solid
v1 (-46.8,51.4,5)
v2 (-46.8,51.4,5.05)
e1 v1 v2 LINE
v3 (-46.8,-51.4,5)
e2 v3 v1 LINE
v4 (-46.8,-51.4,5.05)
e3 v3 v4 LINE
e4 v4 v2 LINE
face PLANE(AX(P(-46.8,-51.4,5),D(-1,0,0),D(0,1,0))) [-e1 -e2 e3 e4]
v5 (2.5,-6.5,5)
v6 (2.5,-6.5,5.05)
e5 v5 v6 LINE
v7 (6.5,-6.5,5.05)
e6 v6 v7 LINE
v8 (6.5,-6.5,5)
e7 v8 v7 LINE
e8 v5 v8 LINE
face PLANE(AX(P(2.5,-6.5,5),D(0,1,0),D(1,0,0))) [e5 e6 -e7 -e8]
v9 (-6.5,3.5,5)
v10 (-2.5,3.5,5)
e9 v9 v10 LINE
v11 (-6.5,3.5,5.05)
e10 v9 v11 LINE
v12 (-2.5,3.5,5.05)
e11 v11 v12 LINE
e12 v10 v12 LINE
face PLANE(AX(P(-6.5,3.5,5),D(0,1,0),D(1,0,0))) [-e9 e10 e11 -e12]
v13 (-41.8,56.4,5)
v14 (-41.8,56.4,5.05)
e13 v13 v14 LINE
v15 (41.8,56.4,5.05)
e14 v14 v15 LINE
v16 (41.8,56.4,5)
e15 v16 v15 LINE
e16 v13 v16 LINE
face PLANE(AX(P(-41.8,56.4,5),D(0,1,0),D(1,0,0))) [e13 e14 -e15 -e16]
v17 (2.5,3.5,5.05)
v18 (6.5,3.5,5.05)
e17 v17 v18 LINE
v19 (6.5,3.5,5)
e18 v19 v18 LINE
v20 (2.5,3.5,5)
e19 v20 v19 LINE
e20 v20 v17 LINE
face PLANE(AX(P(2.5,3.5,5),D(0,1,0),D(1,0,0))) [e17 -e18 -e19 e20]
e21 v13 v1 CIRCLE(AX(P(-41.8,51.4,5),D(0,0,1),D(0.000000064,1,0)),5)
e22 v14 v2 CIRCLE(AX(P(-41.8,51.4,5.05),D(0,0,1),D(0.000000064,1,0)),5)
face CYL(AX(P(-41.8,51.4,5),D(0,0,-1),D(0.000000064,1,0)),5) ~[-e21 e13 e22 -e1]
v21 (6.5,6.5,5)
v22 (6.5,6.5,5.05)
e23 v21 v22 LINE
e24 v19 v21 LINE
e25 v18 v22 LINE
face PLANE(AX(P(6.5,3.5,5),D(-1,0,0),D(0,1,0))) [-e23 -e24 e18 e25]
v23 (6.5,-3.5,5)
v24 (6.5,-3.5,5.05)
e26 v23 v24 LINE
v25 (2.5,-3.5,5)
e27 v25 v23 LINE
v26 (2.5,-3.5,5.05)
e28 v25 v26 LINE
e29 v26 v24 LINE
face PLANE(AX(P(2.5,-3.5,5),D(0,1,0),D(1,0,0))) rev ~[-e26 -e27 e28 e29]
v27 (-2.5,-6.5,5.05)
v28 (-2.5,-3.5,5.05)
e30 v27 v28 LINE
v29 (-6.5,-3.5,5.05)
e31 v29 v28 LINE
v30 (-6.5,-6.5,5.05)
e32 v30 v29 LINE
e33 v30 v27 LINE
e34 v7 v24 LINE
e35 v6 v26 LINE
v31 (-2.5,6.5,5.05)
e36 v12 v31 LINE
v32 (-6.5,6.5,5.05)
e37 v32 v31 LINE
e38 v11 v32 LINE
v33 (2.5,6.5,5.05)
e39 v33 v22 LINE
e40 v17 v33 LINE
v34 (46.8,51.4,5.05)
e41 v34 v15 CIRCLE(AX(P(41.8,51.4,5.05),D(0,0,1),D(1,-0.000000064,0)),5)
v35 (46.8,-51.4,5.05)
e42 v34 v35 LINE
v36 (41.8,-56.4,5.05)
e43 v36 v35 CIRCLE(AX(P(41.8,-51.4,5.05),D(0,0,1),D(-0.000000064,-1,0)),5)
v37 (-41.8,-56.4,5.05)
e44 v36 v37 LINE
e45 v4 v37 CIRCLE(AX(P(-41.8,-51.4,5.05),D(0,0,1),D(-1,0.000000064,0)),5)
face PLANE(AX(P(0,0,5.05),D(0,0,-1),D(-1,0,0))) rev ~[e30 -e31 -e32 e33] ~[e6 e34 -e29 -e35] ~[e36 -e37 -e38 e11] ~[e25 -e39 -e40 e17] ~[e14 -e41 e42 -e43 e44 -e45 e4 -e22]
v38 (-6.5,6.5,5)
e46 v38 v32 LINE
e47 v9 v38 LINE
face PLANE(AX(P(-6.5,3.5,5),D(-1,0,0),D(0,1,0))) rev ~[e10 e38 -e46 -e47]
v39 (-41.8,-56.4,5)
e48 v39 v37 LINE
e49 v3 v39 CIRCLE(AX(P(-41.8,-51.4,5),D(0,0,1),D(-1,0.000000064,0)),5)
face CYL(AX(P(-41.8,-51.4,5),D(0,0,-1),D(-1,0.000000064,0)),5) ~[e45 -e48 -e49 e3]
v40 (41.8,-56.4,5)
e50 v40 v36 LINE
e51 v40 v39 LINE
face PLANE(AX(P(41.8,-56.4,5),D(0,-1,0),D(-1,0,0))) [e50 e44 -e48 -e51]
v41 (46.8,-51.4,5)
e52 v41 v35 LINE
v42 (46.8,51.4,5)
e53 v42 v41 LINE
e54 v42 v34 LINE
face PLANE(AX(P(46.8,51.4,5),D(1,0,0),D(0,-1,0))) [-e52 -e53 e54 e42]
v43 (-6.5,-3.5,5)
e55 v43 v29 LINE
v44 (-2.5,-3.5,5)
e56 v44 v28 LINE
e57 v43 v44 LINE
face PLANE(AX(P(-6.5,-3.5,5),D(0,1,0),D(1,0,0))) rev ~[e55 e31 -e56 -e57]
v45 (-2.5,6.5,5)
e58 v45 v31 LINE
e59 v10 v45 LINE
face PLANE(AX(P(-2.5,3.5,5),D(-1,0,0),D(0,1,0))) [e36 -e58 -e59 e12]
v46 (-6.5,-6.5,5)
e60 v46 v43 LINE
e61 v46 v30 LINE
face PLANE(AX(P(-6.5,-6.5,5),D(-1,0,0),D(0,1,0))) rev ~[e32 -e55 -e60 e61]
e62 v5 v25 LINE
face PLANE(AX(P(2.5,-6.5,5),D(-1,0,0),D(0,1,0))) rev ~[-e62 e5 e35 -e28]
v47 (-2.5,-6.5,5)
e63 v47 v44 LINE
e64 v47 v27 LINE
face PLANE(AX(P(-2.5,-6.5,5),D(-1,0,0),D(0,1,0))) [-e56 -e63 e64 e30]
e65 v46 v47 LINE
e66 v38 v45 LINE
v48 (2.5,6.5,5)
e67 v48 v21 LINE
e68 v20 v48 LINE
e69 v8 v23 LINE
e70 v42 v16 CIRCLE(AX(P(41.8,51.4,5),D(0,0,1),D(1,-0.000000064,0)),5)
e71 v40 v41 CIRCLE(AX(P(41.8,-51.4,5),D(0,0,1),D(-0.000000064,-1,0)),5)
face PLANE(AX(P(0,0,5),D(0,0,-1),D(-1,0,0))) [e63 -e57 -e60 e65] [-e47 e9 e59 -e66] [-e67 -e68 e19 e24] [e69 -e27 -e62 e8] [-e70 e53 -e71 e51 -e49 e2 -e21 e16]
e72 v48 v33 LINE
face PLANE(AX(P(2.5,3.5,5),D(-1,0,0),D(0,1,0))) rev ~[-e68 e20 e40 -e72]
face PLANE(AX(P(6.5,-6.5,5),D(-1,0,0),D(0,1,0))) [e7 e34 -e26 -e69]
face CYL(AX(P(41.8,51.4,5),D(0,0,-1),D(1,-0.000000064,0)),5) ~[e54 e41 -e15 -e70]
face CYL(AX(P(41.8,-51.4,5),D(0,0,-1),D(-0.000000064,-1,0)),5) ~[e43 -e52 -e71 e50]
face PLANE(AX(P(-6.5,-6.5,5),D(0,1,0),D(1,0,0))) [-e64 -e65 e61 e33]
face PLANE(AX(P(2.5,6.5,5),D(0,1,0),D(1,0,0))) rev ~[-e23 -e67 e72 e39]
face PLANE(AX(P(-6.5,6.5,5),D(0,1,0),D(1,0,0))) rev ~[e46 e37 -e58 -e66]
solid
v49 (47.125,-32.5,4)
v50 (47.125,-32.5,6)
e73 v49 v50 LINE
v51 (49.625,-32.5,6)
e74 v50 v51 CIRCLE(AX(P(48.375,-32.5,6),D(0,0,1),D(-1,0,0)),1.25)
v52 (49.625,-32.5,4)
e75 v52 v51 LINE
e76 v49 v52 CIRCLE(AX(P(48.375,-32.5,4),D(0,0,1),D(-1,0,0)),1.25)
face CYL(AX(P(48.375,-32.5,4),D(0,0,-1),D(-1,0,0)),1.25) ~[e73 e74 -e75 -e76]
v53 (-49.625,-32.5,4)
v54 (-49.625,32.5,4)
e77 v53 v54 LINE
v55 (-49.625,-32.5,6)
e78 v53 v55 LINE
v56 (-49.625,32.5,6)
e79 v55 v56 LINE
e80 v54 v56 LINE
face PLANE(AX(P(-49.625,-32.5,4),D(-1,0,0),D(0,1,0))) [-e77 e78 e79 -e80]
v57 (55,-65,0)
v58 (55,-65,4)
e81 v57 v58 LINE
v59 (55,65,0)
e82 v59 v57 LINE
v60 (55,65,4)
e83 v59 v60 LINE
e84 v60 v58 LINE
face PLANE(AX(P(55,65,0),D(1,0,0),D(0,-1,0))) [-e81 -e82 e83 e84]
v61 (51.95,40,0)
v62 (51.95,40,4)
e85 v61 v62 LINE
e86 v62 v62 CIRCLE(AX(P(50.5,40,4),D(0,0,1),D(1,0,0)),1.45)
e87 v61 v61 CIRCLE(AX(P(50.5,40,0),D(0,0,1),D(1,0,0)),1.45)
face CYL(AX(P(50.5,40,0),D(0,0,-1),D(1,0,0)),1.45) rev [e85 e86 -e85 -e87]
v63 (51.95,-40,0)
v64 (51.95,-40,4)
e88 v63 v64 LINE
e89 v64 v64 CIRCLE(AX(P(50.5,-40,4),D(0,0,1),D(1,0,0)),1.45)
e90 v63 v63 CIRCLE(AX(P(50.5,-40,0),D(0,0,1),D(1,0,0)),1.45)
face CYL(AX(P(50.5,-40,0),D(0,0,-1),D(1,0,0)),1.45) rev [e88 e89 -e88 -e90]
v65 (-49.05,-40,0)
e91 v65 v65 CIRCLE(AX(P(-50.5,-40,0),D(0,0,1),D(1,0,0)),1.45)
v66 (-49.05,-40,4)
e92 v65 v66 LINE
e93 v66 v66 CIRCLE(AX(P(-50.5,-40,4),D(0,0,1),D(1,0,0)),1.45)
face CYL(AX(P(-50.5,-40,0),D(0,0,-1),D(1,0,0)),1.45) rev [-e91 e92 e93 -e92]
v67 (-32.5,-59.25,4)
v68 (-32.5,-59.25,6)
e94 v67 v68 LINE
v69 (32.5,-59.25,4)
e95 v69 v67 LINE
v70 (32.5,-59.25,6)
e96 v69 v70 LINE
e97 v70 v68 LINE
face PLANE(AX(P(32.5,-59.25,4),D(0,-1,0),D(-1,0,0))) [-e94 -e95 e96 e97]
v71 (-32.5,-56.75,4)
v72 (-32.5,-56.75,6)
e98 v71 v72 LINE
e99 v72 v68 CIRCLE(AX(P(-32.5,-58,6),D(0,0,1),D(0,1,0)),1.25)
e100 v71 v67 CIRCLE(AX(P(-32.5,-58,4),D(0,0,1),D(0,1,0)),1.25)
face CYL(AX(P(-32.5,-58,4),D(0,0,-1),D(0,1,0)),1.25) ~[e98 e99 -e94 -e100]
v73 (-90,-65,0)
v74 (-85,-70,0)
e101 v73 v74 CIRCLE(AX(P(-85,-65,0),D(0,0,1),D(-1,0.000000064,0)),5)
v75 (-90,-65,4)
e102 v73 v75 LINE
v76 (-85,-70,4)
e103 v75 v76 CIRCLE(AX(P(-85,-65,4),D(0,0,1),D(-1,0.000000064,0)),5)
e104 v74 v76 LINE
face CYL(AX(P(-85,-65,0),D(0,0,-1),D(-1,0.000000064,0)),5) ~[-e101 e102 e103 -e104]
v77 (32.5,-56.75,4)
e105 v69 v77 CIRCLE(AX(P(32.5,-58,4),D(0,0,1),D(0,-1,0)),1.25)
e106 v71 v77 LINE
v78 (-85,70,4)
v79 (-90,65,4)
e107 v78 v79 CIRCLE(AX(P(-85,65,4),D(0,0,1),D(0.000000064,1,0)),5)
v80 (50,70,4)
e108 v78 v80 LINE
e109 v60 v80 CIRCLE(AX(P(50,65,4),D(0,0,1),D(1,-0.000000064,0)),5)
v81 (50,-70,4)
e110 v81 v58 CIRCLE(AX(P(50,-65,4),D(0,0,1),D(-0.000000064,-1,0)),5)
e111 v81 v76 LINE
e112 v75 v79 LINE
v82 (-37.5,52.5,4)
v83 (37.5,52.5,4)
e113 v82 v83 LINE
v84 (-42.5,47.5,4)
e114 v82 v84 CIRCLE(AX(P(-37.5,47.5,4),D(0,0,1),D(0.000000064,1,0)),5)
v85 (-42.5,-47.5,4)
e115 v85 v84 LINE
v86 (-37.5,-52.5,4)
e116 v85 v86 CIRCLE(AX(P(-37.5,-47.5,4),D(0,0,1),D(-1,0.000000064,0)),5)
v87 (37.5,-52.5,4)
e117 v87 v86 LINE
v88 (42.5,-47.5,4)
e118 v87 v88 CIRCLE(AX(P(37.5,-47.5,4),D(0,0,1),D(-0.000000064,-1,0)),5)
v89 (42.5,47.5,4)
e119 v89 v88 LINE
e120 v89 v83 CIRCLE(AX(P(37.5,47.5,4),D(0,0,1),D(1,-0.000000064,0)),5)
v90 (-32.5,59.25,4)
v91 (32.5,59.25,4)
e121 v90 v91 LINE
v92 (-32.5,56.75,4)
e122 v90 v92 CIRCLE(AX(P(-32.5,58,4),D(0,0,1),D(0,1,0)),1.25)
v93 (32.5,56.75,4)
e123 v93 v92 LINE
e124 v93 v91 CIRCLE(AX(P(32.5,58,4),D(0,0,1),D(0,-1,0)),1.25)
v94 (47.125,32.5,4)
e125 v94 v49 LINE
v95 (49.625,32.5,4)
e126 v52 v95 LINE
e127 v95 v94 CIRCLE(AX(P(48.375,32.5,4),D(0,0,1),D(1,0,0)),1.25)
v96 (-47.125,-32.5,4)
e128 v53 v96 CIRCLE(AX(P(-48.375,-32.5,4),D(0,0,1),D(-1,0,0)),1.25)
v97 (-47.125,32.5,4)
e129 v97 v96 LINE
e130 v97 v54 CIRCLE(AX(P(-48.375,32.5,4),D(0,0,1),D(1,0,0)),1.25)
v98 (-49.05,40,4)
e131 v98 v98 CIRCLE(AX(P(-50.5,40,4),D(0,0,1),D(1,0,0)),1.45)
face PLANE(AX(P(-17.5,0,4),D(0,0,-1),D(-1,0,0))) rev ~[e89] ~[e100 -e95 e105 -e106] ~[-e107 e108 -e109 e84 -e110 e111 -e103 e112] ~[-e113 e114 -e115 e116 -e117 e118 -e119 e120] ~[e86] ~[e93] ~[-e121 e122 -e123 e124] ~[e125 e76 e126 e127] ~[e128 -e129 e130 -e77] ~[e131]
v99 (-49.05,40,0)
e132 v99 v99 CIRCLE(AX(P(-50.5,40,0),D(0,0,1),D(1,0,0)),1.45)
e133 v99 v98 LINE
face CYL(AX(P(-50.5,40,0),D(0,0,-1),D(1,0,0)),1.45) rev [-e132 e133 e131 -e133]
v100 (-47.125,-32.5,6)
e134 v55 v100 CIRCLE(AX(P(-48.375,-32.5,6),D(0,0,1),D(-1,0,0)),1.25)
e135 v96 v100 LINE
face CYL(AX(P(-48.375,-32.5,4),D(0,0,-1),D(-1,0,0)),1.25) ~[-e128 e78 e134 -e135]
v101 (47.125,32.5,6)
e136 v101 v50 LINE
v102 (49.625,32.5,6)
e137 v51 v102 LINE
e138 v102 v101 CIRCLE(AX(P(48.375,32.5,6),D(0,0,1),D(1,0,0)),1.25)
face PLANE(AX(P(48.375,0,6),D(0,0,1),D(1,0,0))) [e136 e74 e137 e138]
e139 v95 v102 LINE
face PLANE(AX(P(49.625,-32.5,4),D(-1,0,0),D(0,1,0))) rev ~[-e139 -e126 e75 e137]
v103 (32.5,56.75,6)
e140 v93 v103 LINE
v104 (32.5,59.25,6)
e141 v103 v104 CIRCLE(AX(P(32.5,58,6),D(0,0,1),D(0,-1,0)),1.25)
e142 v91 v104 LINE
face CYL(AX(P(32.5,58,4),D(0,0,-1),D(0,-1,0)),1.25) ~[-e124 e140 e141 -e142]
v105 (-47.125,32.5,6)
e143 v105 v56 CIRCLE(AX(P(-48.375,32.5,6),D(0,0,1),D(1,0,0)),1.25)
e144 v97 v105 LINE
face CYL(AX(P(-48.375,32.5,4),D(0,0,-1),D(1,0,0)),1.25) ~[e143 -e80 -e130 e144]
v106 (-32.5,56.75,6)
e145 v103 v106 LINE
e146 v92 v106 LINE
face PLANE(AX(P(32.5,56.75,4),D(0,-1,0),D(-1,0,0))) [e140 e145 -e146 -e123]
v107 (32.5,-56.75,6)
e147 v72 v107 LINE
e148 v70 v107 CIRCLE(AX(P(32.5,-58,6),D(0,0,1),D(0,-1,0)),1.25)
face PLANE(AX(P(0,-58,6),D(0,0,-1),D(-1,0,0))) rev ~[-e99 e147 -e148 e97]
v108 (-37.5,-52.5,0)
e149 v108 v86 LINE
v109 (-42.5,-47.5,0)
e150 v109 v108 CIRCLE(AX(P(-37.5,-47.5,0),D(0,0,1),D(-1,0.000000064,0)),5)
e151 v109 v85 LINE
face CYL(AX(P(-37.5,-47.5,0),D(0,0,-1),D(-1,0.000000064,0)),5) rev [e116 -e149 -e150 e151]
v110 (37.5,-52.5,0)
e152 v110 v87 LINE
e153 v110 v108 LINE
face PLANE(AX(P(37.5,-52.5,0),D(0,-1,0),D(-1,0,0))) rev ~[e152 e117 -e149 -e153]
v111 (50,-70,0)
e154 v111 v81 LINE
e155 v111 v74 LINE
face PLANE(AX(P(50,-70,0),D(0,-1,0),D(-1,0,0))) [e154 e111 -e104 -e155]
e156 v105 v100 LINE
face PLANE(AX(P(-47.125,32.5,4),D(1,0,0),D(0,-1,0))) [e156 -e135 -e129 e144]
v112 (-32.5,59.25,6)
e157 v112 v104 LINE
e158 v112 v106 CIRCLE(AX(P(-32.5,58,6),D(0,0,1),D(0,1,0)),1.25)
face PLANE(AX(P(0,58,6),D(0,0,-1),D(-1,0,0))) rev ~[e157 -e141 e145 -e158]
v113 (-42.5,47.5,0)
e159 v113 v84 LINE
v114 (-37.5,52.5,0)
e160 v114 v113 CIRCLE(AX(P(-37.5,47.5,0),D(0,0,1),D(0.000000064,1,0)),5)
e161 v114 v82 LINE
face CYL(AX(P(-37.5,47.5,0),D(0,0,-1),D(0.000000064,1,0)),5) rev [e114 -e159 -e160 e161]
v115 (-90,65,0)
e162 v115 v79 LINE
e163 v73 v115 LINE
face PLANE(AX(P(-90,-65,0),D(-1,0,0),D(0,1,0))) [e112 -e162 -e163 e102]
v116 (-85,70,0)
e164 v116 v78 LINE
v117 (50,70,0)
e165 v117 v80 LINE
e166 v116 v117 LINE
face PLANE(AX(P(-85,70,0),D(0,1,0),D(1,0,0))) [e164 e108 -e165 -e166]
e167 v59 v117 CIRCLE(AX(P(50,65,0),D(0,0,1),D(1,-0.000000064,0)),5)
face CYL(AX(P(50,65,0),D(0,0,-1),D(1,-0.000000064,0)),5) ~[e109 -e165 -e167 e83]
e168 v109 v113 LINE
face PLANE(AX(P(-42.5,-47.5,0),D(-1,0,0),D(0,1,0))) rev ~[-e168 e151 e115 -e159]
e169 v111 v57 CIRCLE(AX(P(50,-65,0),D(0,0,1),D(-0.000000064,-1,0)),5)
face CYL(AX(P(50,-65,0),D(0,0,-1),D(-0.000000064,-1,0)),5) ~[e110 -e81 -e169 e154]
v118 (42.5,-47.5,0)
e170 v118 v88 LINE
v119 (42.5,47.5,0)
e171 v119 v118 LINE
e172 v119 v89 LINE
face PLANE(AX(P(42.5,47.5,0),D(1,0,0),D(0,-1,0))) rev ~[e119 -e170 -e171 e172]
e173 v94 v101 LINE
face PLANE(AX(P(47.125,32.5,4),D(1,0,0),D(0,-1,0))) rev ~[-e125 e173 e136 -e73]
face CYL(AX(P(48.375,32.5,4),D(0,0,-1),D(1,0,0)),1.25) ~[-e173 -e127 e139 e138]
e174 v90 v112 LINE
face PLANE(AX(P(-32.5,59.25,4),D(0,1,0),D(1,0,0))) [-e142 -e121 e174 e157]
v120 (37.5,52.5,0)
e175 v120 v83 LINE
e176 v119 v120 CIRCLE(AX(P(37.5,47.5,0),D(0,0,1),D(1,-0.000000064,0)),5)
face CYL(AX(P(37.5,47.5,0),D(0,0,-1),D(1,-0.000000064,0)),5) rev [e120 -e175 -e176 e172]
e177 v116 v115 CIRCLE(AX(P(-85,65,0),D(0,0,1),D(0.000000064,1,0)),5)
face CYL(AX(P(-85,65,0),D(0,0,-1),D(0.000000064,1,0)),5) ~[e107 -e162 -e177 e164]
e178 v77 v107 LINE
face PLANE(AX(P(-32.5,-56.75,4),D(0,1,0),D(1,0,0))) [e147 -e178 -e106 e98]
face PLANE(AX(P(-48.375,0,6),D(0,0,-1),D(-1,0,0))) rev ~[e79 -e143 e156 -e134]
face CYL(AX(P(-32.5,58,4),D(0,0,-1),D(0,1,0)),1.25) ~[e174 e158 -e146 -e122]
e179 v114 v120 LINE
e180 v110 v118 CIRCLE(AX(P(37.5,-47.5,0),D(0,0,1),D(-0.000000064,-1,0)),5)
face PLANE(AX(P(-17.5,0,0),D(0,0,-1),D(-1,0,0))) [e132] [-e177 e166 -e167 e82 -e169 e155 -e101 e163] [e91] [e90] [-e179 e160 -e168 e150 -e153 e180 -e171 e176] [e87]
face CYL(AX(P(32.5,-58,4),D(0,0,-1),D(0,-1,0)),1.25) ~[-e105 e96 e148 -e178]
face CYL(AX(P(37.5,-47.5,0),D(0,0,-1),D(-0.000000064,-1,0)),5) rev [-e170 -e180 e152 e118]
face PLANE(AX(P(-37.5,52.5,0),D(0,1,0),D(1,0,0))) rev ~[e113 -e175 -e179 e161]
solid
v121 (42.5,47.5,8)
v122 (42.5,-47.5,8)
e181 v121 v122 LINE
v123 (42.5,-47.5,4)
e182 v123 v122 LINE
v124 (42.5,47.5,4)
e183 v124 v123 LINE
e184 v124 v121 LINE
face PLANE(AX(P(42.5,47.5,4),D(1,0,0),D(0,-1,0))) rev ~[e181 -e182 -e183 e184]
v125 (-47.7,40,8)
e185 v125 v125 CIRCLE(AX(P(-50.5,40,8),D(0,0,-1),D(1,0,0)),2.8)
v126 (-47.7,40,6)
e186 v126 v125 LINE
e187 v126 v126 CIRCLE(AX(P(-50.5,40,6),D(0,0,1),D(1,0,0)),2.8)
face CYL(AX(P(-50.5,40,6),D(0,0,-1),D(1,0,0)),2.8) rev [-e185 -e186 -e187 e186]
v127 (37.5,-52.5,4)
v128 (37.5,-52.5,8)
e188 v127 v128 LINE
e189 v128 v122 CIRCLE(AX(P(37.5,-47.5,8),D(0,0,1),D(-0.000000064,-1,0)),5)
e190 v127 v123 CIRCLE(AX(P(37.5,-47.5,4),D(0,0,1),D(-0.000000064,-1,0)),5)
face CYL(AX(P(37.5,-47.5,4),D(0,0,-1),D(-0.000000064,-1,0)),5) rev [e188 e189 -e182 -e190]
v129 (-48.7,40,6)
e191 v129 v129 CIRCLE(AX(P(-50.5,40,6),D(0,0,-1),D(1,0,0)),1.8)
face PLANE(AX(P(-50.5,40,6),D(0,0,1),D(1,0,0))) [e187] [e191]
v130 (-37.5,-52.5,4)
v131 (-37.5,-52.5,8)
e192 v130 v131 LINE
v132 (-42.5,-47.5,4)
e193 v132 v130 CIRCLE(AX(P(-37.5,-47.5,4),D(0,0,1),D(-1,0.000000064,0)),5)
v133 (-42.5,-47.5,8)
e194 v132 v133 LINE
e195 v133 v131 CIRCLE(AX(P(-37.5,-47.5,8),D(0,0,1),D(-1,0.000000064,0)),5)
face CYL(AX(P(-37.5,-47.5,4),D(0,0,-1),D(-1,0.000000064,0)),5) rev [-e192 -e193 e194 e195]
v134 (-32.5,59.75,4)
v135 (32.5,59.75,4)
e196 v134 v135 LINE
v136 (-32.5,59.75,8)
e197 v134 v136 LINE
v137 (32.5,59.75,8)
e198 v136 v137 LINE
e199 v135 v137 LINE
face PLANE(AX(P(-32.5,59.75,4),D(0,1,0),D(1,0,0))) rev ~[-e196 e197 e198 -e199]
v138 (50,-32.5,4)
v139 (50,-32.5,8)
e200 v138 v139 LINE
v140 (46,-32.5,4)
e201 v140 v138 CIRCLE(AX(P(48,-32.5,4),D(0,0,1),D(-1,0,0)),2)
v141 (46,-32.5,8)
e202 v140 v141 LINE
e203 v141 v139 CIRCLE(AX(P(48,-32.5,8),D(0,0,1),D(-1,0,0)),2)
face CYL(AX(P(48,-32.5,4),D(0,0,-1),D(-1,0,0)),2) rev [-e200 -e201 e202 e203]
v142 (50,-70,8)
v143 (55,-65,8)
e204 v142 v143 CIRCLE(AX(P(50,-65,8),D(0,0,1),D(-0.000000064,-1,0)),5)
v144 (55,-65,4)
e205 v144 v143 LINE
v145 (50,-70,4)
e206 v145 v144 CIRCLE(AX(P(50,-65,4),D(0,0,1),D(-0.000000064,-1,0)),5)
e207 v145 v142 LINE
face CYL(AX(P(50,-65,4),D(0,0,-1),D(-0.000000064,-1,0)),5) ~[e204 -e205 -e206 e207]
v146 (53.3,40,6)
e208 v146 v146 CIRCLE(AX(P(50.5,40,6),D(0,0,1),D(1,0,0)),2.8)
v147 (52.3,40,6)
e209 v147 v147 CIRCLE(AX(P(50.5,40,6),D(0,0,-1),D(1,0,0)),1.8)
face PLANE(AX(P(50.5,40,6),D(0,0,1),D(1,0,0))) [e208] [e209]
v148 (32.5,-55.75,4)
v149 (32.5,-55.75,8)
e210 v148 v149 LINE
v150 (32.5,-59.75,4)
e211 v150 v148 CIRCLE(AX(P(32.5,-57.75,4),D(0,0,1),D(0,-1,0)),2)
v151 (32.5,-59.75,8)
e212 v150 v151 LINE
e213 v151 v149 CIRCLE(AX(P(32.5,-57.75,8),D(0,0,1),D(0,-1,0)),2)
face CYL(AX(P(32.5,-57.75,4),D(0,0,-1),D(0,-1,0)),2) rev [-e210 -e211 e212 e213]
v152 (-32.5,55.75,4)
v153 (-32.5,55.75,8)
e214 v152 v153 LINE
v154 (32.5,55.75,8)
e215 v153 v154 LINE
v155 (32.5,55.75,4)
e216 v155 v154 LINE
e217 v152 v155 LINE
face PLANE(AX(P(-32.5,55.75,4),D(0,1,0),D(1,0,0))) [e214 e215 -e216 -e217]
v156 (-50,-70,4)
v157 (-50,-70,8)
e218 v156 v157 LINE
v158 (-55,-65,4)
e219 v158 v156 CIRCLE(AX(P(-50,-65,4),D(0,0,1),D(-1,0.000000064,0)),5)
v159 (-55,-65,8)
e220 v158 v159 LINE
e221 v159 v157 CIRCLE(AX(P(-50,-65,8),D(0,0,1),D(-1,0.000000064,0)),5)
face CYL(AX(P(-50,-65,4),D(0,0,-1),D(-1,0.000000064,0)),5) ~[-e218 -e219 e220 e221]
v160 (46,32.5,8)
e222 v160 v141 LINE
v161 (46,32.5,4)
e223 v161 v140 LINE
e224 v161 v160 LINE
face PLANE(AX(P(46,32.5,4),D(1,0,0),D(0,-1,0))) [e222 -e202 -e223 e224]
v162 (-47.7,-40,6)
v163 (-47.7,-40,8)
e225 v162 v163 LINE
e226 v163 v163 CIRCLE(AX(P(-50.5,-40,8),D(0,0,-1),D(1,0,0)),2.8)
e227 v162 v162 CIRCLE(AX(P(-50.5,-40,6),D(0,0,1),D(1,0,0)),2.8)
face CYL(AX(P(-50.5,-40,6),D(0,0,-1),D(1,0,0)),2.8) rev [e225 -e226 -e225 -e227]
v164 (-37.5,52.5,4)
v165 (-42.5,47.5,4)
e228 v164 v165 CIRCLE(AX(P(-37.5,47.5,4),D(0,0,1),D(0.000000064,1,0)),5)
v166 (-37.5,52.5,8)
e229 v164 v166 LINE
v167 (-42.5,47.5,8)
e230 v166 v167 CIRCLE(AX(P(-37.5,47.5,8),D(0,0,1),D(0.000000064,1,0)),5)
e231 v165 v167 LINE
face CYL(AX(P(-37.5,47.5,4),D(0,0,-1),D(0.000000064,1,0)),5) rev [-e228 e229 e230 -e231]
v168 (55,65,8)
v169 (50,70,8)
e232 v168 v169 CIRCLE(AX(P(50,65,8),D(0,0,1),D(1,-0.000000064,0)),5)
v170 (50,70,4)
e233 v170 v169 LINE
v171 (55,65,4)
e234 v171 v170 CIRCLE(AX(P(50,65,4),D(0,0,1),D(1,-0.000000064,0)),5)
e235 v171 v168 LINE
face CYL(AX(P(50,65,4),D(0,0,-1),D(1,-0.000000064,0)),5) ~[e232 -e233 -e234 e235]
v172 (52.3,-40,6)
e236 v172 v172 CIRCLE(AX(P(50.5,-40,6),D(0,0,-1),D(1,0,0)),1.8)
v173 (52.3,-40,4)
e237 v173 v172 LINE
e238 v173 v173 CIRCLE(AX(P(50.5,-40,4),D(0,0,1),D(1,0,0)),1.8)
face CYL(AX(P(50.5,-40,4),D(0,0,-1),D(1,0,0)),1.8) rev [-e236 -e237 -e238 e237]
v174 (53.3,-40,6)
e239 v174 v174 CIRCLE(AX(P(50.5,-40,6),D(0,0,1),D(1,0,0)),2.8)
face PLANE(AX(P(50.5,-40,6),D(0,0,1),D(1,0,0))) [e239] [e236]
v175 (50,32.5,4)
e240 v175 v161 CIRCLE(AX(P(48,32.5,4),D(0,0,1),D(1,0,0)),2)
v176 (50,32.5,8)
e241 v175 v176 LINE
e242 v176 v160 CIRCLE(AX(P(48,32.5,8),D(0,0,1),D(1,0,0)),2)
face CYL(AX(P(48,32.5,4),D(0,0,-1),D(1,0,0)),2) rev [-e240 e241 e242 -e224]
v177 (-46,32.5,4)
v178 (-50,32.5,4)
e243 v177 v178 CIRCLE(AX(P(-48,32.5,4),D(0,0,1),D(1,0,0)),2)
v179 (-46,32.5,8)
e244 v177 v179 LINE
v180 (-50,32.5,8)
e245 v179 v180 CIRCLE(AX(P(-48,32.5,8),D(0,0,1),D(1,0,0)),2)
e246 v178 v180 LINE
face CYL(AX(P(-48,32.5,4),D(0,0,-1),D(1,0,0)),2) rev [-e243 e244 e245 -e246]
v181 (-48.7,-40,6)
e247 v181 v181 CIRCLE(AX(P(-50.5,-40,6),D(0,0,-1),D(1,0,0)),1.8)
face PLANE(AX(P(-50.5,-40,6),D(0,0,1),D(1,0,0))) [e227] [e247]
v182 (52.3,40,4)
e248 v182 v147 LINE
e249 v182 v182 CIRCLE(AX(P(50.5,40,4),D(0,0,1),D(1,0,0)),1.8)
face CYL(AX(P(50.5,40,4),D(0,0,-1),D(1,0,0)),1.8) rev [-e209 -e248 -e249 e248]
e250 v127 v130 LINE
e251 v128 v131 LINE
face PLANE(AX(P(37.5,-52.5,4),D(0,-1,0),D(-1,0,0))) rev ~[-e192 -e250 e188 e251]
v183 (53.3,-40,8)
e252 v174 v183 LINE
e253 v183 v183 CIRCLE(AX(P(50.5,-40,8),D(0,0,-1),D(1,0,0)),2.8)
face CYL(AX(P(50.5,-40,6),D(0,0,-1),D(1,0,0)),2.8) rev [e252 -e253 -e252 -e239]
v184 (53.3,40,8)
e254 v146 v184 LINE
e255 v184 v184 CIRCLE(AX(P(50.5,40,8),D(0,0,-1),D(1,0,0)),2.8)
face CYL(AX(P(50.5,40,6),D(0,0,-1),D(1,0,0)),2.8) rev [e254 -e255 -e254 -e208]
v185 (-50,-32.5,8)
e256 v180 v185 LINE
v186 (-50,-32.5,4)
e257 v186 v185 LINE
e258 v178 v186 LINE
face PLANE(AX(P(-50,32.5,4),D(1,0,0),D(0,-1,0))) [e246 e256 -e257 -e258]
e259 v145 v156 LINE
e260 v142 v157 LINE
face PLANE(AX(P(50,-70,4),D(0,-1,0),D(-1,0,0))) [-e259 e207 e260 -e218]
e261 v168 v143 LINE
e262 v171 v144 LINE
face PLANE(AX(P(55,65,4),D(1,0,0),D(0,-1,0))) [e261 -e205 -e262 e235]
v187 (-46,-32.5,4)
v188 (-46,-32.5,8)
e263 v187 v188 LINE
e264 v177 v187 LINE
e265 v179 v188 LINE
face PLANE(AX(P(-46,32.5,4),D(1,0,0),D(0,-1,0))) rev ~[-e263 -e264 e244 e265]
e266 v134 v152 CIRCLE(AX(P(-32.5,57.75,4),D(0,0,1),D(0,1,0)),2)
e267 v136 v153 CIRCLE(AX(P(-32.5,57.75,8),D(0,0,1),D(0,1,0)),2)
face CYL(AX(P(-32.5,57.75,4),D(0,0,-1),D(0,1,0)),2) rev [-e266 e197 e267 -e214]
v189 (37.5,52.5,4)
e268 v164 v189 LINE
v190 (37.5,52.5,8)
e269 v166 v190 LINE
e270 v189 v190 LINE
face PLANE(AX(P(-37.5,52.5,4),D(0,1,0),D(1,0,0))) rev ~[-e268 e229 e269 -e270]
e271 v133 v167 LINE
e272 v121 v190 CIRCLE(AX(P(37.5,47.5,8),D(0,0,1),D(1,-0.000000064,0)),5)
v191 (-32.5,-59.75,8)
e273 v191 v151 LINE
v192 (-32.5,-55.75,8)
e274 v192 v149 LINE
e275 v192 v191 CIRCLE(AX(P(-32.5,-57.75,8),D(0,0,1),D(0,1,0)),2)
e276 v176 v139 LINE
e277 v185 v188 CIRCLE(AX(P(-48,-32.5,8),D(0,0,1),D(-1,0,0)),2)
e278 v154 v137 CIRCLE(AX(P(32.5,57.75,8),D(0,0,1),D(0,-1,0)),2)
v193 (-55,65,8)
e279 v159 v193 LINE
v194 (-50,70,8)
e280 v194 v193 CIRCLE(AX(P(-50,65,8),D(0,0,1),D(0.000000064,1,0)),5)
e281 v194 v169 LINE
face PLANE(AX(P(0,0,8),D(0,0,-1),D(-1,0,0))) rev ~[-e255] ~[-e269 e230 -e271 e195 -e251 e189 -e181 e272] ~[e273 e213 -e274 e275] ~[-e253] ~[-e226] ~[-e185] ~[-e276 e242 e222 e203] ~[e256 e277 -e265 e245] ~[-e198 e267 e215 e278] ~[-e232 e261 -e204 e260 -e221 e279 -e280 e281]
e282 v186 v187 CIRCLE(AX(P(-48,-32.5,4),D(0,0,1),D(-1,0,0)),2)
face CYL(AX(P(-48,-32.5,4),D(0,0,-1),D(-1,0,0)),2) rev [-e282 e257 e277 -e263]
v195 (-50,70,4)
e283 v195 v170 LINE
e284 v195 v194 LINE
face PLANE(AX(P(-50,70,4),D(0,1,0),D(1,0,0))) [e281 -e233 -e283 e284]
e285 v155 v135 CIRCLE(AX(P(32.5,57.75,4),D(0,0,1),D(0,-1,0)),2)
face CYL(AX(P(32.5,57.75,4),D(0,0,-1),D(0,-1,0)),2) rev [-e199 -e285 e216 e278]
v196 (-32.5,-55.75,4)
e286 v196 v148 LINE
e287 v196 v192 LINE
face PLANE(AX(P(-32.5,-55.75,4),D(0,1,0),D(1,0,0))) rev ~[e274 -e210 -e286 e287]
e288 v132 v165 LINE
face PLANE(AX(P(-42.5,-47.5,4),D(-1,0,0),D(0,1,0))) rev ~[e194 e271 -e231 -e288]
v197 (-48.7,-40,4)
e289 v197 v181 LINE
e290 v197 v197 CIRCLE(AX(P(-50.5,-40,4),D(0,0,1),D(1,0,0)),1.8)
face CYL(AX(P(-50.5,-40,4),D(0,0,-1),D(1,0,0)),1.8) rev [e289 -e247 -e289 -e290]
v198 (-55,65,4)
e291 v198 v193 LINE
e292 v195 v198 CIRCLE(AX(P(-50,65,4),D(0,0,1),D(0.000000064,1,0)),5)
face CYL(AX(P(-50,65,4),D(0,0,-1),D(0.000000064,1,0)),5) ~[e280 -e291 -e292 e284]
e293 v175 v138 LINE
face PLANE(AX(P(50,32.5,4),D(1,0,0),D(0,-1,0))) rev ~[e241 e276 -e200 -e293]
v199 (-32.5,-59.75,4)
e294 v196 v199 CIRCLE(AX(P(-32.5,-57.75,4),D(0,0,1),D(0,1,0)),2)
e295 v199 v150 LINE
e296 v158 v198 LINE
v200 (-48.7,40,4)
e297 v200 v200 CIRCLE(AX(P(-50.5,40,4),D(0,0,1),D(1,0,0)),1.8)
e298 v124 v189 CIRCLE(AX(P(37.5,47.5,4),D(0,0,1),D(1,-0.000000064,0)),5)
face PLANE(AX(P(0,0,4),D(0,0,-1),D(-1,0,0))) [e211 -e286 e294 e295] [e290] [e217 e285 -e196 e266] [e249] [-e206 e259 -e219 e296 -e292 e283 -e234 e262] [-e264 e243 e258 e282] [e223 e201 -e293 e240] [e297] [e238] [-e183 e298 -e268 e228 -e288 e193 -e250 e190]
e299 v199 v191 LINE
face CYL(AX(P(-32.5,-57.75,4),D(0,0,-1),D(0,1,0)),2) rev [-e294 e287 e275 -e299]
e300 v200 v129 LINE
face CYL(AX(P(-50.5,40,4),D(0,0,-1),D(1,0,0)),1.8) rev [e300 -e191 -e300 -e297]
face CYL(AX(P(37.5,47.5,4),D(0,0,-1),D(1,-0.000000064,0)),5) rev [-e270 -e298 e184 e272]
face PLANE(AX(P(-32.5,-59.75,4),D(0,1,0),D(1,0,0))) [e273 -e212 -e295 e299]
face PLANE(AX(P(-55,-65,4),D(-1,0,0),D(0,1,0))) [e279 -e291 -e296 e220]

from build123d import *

# Parameters (mm, degrees)
SKETCH_W         = 4
SKETCH_H         = 3
EXTRUDE_DEPTH    = 0.05
EXTRUDE005_DEPTH = 2
SKETCH001_R      = 1.45
EXTRUDE001_DEPTH = 4
SKETCH004_R      = 2.8
EXTRUDE004_DEPTH = 3
SKETCH003_R      = 1.8
EXTRUDE003_DEPTH = 4


with BuildPart() as extrude_body:
    # Sketch → Extrude (new body)
    with BuildSketch(Plane.XY):
        with BuildLine():
            Line((-41.8, 56.4), (41.8, 56.4))
            ThreePointArc((46.8, 51.4), (45.335534, 54.935534), (41.8, 56.4))
            Line((46.8, 51.4), (46.8, -51.4))
            ThreePointArc((41.8, -56.4), (45.335534, -54.935534), (46.8, -51.4))
            Line((41.8, -56.4), (-41.8, -56.4))
            ThreePointArc((-46.8, -51.4), (-45.335534, -54.935534), (-41.8, -56.4))
            Line((-46.8, -51.4), (-46.8, 51.4))
            ThreePointArc((-41.8, 56.4), (-45.335534, 54.935534), (-46.8, 51.4))
        make_face()
        with Locations((-4.5, 5)):
            Rectangle(SKETCH_W, SKETCH_H, mode=Mode.SUBTRACT)
        with Locations((4.5, 5)):
            Rectangle(SKETCH_W, SKETCH_H, mode=Mode.SUBTRACT)
        with Locations((-4.5, -5)):
            Rectangle(SKETCH_W, SKETCH_H, mode=Mode.SUBTRACT)
        with Locations((4.5, -5)):
            Rectangle(SKETCH_W, SKETCH_H, mode=Mode.SUBTRACT)
    extrude(amount=EXTRUDE_DEPTH)


with BuildPart() as extrude_body_1:
    # Extrude placement: moved
    add(extrude_body.part.moved(Location((0, 0, 5))))


with BuildPart() as extrude005:
    # Sketch002 → Extrude005 (new body)
    with BuildSketch(Plane.XY):
        with BuildLine():
            Line((47.125, 32.5), (47.125, -32.5))
            ThreePointArc((47.125, -32.5), (48.375, -33.75), (49.625, -32.5))
            Line((49.625, -32.5), (49.625, 32.5))
            ThreePointArc((49.625, 32.5), (48.375, 33.75), (47.125, 32.5))
        make_face()
        with BuildLine():
            Line((-47.125, 32.5), (-47.125, -32.5))
            ThreePointArc((-49.625, -32.5), (-48.375, -33.75), (-47.125, -32.5))
            Line((-49.625, -32.5), (-49.625, 32.5))
            ThreePointArc((-47.125, 32.5), (-48.375, 33.75), (-49.625, 32.5))
        make_face()
        with BuildLine():
            Line((-32.5, 59.25), (32.5, 59.25))
            ThreePointArc((32.5, 56.75), (33.75, 58), (32.5, 59.25))
            Line((32.5, 56.75), (-32.5, 56.75))
            ThreePointArc((-32.5, 59.25), (-33.75, 58), (-32.5, 56.75))
        make_face()
        with BuildLine():
            Line((-32.5, -56.75), (32.5, -56.75))
            ThreePointArc((32.5, -59.25), (33.75, -58), (32.5, -56.75))
            Line((32.5, -59.25), (-32.5, -59.25))
            ThreePointArc((-32.5, -56.75), (-33.75, -58), (-32.5, -59.25))
        make_face()
    extrude(amount=EXTRUDE005_DEPTH)


with BuildPart() as extrude005_1:
    # Extrude005 placement: moved
    add(extrude005.part.moved(Location((0, 0, 4))))


with BuildPart() as fusion:
    # Sketch001 → Extrude001 (new body)
    with BuildSketch(Plane.XY):
        with BuildLine():
            Line((-85, 70), (50, 70))
            ThreePointArc((55, 65), (53.535534, 68.535534), (50, 70))
            Line((55, 65), (55, -65))
            ThreePointArc((50, -70), (53.535534, -68.535534), (55, -65))
            Line((50, -70), (-85, -70))
            ThreePointArc((-90, -65), (-88.535534, -68.535534), (-85, -70))
            Line((-90, -65), (-90, 65))
            ThreePointArc((-85, 70), (-88.535534, 68.535534), (-90, 65))
        make_face()
        with Locations((-50.5, 40)):
            Circle(SKETCH001_R, mode=Mode.SUBTRACT)
        with Locations((50.5, -40)):
            Circle(SKETCH001_R, mode=Mode.SUBTRACT)
        with Locations((-50.5, -40)):
            Circle(SKETCH001_R, mode=Mode.SUBTRACT)
        with Locations((50.5, 40)):
            Circle(SKETCH001_R, mode=Mode.SUBTRACT)
        with BuildLine():
            Line((-37.5, 52.5), (37.5, 52.5))
            ThreePointArc((42.5, 47.5), (41.035534, 51.035534), (37.5, 52.5))
            Line((42.5, 47.5), (42.5, -47.5))
            ThreePointArc((37.5, -52.5), (41.035534, -51.035534), (42.5, -47.5))
            Line((37.5, -52.5), (-37.5, -52.5))
            ThreePointArc((-42.5, -47.5), (-41.035534, -51.035534), (-37.5, -52.5))
            Line((-42.5, -47.5), (-42.5, 47.5))
            ThreePointArc((-37.5, 52.5), (-41.035534, 51.035534), (-42.5, 47.5))
        make_face(mode=Mode.SUBTRACT)
    extrude(amount=EXTRUDE001_DEPTH)

    # Fusion: union Extrude005
    add(extrude005_1.part)


with BuildPart() as extrude004:
    # Sketch004 → Extrude004 (new body)
    with BuildSketch(Plane.XY):
        with Locations((-50.5, 40)):
            Circle(SKETCH004_R)
        with Locations((50.5, -40)):
            Circle(SKETCH004_R)
        with Locations((-50.5, -40)):
            Circle(SKETCH004_R)
        with Locations((50.5, 40)):
            Circle(SKETCH004_R)
    extrude(amount=EXTRUDE004_DEPTH)


with BuildPart() as extrude004_1:
    # Extrude004 placement: moved
    add(extrude004.part.moved(Location((0, 0, 6))))


with BuildPart() as cut:
    # Sketch003 → Extrude003 (new body)
    with BuildSketch(Plane.XY):
        with BuildLine():
            Line((-50, 70), (50, 70))
            ThreePointArc((55, 65), (53.535534, 68.535534), (50, 70))
            Line((55, 65), (55, -65))
            ThreePointArc((50, -70), (53.535534, -68.535534), (55, -65))
            Line((50, -70), (-50, -70))
            ThreePointArc((-55, -65), (-53.535534, -68.535534), (-50, -70))
            Line((-55, -65), (-55, 65))
            ThreePointArc((-50, 70), (-53.535534, 68.535534), (-55, 65))
        make_face()
        with Locations((-50.5, 40)):
            Circle(SKETCH003_R, mode=Mode.SUBTRACT)
        with Locations((50.5, -40)):
            Circle(SKETCH003_R, mode=Mode.SUBTRACT)
        with Locations((-50.5, -40)):
            Circle(SKETCH003_R, mode=Mode.SUBTRACT)
        with Locations((50.5, 40)):
            Circle(SKETCH003_R, mode=Mode.SUBTRACT)
        with BuildLine():
            Line((-37.5, 52.5), (37.5, 52.5))
            ThreePointArc((42.5, 47.5), (41.035534, 51.035534), (37.5, 52.5))
            Line((42.5, 47.5), (42.5, -47.5))
            ThreePointArc((37.5, -52.5), (41.035534, -51.035534), (42.5, -47.5))
            Line((37.5, -52.5), (-37.5, -52.5))
            ThreePointArc((-42.5, -47.5), (-41.035534, -51.035534), (-37.5, -52.5))
            Line((-42.5, -47.5), (-42.5, 47.5))
            ThreePointArc((-37.5, 52.5), (-41.035534, 51.035534), (-42.5, 47.5))
        make_face(mode=Mode.SUBTRACT)
        with BuildLine():
            ThreePointArc((-46, 32.5), (-48, 34.5), (-50, 32.5))
            Line((-50, 32.5), (-50, -32.5))
            ThreePointArc((-50, -32.5), (-48, -34.5), (-46, -32.5))
            Line((-46, 32.5), (-46, -32.5))
        make_face(mode=Mode.SUBTRACT)
        with BuildLine():
            ThreePointArc((-32.5, -55.75), (-34.5, -57.75), (-32.5, -59.75))
            Line((-32.5, -59.75), (32.5, -59.75))
            ThreePointArc((32.5, -59.75), (34.5, -57.75), (32.5, -55.75))
            Line((-32.5, -55.75), (32.5, -55.75))
        make_face(mode=Mode.SUBTRACT)
        with BuildLine():
            ThreePointArc((50, 32.5), (48, 34.5), (46, 32.5))
            Line((46, 32.5), (46, -32.5))
            ThreePointArc((46, -32.5), (48, -34.5), (50, -32.5))
            Line((50, 32.5), (50, -32.5))
        make_face(mode=Mode.SUBTRACT)
        with BuildLine():
            ThreePointArc((-32.5, 59.75), (-34.5, 57.75), (-32.5, 55.75))
            Line((-32.5, 55.75), (32.5, 55.75))
            ThreePointArc((32.5, 55.75), (34.5, 57.75), (32.5, 59.75))
            Line((-32.5, 59.75), (32.5, 59.75))
        make_face(mode=Mode.SUBTRACT)
    extrude(amount=EXTRUDE003_DEPTH)


with BuildPart() as cut_1:
    # Extrude003 placement: moved
    add(cut.part.moved(Location((0, 0, 4))))

    # Cut: cut Extrude004
    add(extrude004_1.part, mode=Mode.SUBTRACT)


solid = Compound([extrude_body_1.part, fusion.part, cut_1.part])
